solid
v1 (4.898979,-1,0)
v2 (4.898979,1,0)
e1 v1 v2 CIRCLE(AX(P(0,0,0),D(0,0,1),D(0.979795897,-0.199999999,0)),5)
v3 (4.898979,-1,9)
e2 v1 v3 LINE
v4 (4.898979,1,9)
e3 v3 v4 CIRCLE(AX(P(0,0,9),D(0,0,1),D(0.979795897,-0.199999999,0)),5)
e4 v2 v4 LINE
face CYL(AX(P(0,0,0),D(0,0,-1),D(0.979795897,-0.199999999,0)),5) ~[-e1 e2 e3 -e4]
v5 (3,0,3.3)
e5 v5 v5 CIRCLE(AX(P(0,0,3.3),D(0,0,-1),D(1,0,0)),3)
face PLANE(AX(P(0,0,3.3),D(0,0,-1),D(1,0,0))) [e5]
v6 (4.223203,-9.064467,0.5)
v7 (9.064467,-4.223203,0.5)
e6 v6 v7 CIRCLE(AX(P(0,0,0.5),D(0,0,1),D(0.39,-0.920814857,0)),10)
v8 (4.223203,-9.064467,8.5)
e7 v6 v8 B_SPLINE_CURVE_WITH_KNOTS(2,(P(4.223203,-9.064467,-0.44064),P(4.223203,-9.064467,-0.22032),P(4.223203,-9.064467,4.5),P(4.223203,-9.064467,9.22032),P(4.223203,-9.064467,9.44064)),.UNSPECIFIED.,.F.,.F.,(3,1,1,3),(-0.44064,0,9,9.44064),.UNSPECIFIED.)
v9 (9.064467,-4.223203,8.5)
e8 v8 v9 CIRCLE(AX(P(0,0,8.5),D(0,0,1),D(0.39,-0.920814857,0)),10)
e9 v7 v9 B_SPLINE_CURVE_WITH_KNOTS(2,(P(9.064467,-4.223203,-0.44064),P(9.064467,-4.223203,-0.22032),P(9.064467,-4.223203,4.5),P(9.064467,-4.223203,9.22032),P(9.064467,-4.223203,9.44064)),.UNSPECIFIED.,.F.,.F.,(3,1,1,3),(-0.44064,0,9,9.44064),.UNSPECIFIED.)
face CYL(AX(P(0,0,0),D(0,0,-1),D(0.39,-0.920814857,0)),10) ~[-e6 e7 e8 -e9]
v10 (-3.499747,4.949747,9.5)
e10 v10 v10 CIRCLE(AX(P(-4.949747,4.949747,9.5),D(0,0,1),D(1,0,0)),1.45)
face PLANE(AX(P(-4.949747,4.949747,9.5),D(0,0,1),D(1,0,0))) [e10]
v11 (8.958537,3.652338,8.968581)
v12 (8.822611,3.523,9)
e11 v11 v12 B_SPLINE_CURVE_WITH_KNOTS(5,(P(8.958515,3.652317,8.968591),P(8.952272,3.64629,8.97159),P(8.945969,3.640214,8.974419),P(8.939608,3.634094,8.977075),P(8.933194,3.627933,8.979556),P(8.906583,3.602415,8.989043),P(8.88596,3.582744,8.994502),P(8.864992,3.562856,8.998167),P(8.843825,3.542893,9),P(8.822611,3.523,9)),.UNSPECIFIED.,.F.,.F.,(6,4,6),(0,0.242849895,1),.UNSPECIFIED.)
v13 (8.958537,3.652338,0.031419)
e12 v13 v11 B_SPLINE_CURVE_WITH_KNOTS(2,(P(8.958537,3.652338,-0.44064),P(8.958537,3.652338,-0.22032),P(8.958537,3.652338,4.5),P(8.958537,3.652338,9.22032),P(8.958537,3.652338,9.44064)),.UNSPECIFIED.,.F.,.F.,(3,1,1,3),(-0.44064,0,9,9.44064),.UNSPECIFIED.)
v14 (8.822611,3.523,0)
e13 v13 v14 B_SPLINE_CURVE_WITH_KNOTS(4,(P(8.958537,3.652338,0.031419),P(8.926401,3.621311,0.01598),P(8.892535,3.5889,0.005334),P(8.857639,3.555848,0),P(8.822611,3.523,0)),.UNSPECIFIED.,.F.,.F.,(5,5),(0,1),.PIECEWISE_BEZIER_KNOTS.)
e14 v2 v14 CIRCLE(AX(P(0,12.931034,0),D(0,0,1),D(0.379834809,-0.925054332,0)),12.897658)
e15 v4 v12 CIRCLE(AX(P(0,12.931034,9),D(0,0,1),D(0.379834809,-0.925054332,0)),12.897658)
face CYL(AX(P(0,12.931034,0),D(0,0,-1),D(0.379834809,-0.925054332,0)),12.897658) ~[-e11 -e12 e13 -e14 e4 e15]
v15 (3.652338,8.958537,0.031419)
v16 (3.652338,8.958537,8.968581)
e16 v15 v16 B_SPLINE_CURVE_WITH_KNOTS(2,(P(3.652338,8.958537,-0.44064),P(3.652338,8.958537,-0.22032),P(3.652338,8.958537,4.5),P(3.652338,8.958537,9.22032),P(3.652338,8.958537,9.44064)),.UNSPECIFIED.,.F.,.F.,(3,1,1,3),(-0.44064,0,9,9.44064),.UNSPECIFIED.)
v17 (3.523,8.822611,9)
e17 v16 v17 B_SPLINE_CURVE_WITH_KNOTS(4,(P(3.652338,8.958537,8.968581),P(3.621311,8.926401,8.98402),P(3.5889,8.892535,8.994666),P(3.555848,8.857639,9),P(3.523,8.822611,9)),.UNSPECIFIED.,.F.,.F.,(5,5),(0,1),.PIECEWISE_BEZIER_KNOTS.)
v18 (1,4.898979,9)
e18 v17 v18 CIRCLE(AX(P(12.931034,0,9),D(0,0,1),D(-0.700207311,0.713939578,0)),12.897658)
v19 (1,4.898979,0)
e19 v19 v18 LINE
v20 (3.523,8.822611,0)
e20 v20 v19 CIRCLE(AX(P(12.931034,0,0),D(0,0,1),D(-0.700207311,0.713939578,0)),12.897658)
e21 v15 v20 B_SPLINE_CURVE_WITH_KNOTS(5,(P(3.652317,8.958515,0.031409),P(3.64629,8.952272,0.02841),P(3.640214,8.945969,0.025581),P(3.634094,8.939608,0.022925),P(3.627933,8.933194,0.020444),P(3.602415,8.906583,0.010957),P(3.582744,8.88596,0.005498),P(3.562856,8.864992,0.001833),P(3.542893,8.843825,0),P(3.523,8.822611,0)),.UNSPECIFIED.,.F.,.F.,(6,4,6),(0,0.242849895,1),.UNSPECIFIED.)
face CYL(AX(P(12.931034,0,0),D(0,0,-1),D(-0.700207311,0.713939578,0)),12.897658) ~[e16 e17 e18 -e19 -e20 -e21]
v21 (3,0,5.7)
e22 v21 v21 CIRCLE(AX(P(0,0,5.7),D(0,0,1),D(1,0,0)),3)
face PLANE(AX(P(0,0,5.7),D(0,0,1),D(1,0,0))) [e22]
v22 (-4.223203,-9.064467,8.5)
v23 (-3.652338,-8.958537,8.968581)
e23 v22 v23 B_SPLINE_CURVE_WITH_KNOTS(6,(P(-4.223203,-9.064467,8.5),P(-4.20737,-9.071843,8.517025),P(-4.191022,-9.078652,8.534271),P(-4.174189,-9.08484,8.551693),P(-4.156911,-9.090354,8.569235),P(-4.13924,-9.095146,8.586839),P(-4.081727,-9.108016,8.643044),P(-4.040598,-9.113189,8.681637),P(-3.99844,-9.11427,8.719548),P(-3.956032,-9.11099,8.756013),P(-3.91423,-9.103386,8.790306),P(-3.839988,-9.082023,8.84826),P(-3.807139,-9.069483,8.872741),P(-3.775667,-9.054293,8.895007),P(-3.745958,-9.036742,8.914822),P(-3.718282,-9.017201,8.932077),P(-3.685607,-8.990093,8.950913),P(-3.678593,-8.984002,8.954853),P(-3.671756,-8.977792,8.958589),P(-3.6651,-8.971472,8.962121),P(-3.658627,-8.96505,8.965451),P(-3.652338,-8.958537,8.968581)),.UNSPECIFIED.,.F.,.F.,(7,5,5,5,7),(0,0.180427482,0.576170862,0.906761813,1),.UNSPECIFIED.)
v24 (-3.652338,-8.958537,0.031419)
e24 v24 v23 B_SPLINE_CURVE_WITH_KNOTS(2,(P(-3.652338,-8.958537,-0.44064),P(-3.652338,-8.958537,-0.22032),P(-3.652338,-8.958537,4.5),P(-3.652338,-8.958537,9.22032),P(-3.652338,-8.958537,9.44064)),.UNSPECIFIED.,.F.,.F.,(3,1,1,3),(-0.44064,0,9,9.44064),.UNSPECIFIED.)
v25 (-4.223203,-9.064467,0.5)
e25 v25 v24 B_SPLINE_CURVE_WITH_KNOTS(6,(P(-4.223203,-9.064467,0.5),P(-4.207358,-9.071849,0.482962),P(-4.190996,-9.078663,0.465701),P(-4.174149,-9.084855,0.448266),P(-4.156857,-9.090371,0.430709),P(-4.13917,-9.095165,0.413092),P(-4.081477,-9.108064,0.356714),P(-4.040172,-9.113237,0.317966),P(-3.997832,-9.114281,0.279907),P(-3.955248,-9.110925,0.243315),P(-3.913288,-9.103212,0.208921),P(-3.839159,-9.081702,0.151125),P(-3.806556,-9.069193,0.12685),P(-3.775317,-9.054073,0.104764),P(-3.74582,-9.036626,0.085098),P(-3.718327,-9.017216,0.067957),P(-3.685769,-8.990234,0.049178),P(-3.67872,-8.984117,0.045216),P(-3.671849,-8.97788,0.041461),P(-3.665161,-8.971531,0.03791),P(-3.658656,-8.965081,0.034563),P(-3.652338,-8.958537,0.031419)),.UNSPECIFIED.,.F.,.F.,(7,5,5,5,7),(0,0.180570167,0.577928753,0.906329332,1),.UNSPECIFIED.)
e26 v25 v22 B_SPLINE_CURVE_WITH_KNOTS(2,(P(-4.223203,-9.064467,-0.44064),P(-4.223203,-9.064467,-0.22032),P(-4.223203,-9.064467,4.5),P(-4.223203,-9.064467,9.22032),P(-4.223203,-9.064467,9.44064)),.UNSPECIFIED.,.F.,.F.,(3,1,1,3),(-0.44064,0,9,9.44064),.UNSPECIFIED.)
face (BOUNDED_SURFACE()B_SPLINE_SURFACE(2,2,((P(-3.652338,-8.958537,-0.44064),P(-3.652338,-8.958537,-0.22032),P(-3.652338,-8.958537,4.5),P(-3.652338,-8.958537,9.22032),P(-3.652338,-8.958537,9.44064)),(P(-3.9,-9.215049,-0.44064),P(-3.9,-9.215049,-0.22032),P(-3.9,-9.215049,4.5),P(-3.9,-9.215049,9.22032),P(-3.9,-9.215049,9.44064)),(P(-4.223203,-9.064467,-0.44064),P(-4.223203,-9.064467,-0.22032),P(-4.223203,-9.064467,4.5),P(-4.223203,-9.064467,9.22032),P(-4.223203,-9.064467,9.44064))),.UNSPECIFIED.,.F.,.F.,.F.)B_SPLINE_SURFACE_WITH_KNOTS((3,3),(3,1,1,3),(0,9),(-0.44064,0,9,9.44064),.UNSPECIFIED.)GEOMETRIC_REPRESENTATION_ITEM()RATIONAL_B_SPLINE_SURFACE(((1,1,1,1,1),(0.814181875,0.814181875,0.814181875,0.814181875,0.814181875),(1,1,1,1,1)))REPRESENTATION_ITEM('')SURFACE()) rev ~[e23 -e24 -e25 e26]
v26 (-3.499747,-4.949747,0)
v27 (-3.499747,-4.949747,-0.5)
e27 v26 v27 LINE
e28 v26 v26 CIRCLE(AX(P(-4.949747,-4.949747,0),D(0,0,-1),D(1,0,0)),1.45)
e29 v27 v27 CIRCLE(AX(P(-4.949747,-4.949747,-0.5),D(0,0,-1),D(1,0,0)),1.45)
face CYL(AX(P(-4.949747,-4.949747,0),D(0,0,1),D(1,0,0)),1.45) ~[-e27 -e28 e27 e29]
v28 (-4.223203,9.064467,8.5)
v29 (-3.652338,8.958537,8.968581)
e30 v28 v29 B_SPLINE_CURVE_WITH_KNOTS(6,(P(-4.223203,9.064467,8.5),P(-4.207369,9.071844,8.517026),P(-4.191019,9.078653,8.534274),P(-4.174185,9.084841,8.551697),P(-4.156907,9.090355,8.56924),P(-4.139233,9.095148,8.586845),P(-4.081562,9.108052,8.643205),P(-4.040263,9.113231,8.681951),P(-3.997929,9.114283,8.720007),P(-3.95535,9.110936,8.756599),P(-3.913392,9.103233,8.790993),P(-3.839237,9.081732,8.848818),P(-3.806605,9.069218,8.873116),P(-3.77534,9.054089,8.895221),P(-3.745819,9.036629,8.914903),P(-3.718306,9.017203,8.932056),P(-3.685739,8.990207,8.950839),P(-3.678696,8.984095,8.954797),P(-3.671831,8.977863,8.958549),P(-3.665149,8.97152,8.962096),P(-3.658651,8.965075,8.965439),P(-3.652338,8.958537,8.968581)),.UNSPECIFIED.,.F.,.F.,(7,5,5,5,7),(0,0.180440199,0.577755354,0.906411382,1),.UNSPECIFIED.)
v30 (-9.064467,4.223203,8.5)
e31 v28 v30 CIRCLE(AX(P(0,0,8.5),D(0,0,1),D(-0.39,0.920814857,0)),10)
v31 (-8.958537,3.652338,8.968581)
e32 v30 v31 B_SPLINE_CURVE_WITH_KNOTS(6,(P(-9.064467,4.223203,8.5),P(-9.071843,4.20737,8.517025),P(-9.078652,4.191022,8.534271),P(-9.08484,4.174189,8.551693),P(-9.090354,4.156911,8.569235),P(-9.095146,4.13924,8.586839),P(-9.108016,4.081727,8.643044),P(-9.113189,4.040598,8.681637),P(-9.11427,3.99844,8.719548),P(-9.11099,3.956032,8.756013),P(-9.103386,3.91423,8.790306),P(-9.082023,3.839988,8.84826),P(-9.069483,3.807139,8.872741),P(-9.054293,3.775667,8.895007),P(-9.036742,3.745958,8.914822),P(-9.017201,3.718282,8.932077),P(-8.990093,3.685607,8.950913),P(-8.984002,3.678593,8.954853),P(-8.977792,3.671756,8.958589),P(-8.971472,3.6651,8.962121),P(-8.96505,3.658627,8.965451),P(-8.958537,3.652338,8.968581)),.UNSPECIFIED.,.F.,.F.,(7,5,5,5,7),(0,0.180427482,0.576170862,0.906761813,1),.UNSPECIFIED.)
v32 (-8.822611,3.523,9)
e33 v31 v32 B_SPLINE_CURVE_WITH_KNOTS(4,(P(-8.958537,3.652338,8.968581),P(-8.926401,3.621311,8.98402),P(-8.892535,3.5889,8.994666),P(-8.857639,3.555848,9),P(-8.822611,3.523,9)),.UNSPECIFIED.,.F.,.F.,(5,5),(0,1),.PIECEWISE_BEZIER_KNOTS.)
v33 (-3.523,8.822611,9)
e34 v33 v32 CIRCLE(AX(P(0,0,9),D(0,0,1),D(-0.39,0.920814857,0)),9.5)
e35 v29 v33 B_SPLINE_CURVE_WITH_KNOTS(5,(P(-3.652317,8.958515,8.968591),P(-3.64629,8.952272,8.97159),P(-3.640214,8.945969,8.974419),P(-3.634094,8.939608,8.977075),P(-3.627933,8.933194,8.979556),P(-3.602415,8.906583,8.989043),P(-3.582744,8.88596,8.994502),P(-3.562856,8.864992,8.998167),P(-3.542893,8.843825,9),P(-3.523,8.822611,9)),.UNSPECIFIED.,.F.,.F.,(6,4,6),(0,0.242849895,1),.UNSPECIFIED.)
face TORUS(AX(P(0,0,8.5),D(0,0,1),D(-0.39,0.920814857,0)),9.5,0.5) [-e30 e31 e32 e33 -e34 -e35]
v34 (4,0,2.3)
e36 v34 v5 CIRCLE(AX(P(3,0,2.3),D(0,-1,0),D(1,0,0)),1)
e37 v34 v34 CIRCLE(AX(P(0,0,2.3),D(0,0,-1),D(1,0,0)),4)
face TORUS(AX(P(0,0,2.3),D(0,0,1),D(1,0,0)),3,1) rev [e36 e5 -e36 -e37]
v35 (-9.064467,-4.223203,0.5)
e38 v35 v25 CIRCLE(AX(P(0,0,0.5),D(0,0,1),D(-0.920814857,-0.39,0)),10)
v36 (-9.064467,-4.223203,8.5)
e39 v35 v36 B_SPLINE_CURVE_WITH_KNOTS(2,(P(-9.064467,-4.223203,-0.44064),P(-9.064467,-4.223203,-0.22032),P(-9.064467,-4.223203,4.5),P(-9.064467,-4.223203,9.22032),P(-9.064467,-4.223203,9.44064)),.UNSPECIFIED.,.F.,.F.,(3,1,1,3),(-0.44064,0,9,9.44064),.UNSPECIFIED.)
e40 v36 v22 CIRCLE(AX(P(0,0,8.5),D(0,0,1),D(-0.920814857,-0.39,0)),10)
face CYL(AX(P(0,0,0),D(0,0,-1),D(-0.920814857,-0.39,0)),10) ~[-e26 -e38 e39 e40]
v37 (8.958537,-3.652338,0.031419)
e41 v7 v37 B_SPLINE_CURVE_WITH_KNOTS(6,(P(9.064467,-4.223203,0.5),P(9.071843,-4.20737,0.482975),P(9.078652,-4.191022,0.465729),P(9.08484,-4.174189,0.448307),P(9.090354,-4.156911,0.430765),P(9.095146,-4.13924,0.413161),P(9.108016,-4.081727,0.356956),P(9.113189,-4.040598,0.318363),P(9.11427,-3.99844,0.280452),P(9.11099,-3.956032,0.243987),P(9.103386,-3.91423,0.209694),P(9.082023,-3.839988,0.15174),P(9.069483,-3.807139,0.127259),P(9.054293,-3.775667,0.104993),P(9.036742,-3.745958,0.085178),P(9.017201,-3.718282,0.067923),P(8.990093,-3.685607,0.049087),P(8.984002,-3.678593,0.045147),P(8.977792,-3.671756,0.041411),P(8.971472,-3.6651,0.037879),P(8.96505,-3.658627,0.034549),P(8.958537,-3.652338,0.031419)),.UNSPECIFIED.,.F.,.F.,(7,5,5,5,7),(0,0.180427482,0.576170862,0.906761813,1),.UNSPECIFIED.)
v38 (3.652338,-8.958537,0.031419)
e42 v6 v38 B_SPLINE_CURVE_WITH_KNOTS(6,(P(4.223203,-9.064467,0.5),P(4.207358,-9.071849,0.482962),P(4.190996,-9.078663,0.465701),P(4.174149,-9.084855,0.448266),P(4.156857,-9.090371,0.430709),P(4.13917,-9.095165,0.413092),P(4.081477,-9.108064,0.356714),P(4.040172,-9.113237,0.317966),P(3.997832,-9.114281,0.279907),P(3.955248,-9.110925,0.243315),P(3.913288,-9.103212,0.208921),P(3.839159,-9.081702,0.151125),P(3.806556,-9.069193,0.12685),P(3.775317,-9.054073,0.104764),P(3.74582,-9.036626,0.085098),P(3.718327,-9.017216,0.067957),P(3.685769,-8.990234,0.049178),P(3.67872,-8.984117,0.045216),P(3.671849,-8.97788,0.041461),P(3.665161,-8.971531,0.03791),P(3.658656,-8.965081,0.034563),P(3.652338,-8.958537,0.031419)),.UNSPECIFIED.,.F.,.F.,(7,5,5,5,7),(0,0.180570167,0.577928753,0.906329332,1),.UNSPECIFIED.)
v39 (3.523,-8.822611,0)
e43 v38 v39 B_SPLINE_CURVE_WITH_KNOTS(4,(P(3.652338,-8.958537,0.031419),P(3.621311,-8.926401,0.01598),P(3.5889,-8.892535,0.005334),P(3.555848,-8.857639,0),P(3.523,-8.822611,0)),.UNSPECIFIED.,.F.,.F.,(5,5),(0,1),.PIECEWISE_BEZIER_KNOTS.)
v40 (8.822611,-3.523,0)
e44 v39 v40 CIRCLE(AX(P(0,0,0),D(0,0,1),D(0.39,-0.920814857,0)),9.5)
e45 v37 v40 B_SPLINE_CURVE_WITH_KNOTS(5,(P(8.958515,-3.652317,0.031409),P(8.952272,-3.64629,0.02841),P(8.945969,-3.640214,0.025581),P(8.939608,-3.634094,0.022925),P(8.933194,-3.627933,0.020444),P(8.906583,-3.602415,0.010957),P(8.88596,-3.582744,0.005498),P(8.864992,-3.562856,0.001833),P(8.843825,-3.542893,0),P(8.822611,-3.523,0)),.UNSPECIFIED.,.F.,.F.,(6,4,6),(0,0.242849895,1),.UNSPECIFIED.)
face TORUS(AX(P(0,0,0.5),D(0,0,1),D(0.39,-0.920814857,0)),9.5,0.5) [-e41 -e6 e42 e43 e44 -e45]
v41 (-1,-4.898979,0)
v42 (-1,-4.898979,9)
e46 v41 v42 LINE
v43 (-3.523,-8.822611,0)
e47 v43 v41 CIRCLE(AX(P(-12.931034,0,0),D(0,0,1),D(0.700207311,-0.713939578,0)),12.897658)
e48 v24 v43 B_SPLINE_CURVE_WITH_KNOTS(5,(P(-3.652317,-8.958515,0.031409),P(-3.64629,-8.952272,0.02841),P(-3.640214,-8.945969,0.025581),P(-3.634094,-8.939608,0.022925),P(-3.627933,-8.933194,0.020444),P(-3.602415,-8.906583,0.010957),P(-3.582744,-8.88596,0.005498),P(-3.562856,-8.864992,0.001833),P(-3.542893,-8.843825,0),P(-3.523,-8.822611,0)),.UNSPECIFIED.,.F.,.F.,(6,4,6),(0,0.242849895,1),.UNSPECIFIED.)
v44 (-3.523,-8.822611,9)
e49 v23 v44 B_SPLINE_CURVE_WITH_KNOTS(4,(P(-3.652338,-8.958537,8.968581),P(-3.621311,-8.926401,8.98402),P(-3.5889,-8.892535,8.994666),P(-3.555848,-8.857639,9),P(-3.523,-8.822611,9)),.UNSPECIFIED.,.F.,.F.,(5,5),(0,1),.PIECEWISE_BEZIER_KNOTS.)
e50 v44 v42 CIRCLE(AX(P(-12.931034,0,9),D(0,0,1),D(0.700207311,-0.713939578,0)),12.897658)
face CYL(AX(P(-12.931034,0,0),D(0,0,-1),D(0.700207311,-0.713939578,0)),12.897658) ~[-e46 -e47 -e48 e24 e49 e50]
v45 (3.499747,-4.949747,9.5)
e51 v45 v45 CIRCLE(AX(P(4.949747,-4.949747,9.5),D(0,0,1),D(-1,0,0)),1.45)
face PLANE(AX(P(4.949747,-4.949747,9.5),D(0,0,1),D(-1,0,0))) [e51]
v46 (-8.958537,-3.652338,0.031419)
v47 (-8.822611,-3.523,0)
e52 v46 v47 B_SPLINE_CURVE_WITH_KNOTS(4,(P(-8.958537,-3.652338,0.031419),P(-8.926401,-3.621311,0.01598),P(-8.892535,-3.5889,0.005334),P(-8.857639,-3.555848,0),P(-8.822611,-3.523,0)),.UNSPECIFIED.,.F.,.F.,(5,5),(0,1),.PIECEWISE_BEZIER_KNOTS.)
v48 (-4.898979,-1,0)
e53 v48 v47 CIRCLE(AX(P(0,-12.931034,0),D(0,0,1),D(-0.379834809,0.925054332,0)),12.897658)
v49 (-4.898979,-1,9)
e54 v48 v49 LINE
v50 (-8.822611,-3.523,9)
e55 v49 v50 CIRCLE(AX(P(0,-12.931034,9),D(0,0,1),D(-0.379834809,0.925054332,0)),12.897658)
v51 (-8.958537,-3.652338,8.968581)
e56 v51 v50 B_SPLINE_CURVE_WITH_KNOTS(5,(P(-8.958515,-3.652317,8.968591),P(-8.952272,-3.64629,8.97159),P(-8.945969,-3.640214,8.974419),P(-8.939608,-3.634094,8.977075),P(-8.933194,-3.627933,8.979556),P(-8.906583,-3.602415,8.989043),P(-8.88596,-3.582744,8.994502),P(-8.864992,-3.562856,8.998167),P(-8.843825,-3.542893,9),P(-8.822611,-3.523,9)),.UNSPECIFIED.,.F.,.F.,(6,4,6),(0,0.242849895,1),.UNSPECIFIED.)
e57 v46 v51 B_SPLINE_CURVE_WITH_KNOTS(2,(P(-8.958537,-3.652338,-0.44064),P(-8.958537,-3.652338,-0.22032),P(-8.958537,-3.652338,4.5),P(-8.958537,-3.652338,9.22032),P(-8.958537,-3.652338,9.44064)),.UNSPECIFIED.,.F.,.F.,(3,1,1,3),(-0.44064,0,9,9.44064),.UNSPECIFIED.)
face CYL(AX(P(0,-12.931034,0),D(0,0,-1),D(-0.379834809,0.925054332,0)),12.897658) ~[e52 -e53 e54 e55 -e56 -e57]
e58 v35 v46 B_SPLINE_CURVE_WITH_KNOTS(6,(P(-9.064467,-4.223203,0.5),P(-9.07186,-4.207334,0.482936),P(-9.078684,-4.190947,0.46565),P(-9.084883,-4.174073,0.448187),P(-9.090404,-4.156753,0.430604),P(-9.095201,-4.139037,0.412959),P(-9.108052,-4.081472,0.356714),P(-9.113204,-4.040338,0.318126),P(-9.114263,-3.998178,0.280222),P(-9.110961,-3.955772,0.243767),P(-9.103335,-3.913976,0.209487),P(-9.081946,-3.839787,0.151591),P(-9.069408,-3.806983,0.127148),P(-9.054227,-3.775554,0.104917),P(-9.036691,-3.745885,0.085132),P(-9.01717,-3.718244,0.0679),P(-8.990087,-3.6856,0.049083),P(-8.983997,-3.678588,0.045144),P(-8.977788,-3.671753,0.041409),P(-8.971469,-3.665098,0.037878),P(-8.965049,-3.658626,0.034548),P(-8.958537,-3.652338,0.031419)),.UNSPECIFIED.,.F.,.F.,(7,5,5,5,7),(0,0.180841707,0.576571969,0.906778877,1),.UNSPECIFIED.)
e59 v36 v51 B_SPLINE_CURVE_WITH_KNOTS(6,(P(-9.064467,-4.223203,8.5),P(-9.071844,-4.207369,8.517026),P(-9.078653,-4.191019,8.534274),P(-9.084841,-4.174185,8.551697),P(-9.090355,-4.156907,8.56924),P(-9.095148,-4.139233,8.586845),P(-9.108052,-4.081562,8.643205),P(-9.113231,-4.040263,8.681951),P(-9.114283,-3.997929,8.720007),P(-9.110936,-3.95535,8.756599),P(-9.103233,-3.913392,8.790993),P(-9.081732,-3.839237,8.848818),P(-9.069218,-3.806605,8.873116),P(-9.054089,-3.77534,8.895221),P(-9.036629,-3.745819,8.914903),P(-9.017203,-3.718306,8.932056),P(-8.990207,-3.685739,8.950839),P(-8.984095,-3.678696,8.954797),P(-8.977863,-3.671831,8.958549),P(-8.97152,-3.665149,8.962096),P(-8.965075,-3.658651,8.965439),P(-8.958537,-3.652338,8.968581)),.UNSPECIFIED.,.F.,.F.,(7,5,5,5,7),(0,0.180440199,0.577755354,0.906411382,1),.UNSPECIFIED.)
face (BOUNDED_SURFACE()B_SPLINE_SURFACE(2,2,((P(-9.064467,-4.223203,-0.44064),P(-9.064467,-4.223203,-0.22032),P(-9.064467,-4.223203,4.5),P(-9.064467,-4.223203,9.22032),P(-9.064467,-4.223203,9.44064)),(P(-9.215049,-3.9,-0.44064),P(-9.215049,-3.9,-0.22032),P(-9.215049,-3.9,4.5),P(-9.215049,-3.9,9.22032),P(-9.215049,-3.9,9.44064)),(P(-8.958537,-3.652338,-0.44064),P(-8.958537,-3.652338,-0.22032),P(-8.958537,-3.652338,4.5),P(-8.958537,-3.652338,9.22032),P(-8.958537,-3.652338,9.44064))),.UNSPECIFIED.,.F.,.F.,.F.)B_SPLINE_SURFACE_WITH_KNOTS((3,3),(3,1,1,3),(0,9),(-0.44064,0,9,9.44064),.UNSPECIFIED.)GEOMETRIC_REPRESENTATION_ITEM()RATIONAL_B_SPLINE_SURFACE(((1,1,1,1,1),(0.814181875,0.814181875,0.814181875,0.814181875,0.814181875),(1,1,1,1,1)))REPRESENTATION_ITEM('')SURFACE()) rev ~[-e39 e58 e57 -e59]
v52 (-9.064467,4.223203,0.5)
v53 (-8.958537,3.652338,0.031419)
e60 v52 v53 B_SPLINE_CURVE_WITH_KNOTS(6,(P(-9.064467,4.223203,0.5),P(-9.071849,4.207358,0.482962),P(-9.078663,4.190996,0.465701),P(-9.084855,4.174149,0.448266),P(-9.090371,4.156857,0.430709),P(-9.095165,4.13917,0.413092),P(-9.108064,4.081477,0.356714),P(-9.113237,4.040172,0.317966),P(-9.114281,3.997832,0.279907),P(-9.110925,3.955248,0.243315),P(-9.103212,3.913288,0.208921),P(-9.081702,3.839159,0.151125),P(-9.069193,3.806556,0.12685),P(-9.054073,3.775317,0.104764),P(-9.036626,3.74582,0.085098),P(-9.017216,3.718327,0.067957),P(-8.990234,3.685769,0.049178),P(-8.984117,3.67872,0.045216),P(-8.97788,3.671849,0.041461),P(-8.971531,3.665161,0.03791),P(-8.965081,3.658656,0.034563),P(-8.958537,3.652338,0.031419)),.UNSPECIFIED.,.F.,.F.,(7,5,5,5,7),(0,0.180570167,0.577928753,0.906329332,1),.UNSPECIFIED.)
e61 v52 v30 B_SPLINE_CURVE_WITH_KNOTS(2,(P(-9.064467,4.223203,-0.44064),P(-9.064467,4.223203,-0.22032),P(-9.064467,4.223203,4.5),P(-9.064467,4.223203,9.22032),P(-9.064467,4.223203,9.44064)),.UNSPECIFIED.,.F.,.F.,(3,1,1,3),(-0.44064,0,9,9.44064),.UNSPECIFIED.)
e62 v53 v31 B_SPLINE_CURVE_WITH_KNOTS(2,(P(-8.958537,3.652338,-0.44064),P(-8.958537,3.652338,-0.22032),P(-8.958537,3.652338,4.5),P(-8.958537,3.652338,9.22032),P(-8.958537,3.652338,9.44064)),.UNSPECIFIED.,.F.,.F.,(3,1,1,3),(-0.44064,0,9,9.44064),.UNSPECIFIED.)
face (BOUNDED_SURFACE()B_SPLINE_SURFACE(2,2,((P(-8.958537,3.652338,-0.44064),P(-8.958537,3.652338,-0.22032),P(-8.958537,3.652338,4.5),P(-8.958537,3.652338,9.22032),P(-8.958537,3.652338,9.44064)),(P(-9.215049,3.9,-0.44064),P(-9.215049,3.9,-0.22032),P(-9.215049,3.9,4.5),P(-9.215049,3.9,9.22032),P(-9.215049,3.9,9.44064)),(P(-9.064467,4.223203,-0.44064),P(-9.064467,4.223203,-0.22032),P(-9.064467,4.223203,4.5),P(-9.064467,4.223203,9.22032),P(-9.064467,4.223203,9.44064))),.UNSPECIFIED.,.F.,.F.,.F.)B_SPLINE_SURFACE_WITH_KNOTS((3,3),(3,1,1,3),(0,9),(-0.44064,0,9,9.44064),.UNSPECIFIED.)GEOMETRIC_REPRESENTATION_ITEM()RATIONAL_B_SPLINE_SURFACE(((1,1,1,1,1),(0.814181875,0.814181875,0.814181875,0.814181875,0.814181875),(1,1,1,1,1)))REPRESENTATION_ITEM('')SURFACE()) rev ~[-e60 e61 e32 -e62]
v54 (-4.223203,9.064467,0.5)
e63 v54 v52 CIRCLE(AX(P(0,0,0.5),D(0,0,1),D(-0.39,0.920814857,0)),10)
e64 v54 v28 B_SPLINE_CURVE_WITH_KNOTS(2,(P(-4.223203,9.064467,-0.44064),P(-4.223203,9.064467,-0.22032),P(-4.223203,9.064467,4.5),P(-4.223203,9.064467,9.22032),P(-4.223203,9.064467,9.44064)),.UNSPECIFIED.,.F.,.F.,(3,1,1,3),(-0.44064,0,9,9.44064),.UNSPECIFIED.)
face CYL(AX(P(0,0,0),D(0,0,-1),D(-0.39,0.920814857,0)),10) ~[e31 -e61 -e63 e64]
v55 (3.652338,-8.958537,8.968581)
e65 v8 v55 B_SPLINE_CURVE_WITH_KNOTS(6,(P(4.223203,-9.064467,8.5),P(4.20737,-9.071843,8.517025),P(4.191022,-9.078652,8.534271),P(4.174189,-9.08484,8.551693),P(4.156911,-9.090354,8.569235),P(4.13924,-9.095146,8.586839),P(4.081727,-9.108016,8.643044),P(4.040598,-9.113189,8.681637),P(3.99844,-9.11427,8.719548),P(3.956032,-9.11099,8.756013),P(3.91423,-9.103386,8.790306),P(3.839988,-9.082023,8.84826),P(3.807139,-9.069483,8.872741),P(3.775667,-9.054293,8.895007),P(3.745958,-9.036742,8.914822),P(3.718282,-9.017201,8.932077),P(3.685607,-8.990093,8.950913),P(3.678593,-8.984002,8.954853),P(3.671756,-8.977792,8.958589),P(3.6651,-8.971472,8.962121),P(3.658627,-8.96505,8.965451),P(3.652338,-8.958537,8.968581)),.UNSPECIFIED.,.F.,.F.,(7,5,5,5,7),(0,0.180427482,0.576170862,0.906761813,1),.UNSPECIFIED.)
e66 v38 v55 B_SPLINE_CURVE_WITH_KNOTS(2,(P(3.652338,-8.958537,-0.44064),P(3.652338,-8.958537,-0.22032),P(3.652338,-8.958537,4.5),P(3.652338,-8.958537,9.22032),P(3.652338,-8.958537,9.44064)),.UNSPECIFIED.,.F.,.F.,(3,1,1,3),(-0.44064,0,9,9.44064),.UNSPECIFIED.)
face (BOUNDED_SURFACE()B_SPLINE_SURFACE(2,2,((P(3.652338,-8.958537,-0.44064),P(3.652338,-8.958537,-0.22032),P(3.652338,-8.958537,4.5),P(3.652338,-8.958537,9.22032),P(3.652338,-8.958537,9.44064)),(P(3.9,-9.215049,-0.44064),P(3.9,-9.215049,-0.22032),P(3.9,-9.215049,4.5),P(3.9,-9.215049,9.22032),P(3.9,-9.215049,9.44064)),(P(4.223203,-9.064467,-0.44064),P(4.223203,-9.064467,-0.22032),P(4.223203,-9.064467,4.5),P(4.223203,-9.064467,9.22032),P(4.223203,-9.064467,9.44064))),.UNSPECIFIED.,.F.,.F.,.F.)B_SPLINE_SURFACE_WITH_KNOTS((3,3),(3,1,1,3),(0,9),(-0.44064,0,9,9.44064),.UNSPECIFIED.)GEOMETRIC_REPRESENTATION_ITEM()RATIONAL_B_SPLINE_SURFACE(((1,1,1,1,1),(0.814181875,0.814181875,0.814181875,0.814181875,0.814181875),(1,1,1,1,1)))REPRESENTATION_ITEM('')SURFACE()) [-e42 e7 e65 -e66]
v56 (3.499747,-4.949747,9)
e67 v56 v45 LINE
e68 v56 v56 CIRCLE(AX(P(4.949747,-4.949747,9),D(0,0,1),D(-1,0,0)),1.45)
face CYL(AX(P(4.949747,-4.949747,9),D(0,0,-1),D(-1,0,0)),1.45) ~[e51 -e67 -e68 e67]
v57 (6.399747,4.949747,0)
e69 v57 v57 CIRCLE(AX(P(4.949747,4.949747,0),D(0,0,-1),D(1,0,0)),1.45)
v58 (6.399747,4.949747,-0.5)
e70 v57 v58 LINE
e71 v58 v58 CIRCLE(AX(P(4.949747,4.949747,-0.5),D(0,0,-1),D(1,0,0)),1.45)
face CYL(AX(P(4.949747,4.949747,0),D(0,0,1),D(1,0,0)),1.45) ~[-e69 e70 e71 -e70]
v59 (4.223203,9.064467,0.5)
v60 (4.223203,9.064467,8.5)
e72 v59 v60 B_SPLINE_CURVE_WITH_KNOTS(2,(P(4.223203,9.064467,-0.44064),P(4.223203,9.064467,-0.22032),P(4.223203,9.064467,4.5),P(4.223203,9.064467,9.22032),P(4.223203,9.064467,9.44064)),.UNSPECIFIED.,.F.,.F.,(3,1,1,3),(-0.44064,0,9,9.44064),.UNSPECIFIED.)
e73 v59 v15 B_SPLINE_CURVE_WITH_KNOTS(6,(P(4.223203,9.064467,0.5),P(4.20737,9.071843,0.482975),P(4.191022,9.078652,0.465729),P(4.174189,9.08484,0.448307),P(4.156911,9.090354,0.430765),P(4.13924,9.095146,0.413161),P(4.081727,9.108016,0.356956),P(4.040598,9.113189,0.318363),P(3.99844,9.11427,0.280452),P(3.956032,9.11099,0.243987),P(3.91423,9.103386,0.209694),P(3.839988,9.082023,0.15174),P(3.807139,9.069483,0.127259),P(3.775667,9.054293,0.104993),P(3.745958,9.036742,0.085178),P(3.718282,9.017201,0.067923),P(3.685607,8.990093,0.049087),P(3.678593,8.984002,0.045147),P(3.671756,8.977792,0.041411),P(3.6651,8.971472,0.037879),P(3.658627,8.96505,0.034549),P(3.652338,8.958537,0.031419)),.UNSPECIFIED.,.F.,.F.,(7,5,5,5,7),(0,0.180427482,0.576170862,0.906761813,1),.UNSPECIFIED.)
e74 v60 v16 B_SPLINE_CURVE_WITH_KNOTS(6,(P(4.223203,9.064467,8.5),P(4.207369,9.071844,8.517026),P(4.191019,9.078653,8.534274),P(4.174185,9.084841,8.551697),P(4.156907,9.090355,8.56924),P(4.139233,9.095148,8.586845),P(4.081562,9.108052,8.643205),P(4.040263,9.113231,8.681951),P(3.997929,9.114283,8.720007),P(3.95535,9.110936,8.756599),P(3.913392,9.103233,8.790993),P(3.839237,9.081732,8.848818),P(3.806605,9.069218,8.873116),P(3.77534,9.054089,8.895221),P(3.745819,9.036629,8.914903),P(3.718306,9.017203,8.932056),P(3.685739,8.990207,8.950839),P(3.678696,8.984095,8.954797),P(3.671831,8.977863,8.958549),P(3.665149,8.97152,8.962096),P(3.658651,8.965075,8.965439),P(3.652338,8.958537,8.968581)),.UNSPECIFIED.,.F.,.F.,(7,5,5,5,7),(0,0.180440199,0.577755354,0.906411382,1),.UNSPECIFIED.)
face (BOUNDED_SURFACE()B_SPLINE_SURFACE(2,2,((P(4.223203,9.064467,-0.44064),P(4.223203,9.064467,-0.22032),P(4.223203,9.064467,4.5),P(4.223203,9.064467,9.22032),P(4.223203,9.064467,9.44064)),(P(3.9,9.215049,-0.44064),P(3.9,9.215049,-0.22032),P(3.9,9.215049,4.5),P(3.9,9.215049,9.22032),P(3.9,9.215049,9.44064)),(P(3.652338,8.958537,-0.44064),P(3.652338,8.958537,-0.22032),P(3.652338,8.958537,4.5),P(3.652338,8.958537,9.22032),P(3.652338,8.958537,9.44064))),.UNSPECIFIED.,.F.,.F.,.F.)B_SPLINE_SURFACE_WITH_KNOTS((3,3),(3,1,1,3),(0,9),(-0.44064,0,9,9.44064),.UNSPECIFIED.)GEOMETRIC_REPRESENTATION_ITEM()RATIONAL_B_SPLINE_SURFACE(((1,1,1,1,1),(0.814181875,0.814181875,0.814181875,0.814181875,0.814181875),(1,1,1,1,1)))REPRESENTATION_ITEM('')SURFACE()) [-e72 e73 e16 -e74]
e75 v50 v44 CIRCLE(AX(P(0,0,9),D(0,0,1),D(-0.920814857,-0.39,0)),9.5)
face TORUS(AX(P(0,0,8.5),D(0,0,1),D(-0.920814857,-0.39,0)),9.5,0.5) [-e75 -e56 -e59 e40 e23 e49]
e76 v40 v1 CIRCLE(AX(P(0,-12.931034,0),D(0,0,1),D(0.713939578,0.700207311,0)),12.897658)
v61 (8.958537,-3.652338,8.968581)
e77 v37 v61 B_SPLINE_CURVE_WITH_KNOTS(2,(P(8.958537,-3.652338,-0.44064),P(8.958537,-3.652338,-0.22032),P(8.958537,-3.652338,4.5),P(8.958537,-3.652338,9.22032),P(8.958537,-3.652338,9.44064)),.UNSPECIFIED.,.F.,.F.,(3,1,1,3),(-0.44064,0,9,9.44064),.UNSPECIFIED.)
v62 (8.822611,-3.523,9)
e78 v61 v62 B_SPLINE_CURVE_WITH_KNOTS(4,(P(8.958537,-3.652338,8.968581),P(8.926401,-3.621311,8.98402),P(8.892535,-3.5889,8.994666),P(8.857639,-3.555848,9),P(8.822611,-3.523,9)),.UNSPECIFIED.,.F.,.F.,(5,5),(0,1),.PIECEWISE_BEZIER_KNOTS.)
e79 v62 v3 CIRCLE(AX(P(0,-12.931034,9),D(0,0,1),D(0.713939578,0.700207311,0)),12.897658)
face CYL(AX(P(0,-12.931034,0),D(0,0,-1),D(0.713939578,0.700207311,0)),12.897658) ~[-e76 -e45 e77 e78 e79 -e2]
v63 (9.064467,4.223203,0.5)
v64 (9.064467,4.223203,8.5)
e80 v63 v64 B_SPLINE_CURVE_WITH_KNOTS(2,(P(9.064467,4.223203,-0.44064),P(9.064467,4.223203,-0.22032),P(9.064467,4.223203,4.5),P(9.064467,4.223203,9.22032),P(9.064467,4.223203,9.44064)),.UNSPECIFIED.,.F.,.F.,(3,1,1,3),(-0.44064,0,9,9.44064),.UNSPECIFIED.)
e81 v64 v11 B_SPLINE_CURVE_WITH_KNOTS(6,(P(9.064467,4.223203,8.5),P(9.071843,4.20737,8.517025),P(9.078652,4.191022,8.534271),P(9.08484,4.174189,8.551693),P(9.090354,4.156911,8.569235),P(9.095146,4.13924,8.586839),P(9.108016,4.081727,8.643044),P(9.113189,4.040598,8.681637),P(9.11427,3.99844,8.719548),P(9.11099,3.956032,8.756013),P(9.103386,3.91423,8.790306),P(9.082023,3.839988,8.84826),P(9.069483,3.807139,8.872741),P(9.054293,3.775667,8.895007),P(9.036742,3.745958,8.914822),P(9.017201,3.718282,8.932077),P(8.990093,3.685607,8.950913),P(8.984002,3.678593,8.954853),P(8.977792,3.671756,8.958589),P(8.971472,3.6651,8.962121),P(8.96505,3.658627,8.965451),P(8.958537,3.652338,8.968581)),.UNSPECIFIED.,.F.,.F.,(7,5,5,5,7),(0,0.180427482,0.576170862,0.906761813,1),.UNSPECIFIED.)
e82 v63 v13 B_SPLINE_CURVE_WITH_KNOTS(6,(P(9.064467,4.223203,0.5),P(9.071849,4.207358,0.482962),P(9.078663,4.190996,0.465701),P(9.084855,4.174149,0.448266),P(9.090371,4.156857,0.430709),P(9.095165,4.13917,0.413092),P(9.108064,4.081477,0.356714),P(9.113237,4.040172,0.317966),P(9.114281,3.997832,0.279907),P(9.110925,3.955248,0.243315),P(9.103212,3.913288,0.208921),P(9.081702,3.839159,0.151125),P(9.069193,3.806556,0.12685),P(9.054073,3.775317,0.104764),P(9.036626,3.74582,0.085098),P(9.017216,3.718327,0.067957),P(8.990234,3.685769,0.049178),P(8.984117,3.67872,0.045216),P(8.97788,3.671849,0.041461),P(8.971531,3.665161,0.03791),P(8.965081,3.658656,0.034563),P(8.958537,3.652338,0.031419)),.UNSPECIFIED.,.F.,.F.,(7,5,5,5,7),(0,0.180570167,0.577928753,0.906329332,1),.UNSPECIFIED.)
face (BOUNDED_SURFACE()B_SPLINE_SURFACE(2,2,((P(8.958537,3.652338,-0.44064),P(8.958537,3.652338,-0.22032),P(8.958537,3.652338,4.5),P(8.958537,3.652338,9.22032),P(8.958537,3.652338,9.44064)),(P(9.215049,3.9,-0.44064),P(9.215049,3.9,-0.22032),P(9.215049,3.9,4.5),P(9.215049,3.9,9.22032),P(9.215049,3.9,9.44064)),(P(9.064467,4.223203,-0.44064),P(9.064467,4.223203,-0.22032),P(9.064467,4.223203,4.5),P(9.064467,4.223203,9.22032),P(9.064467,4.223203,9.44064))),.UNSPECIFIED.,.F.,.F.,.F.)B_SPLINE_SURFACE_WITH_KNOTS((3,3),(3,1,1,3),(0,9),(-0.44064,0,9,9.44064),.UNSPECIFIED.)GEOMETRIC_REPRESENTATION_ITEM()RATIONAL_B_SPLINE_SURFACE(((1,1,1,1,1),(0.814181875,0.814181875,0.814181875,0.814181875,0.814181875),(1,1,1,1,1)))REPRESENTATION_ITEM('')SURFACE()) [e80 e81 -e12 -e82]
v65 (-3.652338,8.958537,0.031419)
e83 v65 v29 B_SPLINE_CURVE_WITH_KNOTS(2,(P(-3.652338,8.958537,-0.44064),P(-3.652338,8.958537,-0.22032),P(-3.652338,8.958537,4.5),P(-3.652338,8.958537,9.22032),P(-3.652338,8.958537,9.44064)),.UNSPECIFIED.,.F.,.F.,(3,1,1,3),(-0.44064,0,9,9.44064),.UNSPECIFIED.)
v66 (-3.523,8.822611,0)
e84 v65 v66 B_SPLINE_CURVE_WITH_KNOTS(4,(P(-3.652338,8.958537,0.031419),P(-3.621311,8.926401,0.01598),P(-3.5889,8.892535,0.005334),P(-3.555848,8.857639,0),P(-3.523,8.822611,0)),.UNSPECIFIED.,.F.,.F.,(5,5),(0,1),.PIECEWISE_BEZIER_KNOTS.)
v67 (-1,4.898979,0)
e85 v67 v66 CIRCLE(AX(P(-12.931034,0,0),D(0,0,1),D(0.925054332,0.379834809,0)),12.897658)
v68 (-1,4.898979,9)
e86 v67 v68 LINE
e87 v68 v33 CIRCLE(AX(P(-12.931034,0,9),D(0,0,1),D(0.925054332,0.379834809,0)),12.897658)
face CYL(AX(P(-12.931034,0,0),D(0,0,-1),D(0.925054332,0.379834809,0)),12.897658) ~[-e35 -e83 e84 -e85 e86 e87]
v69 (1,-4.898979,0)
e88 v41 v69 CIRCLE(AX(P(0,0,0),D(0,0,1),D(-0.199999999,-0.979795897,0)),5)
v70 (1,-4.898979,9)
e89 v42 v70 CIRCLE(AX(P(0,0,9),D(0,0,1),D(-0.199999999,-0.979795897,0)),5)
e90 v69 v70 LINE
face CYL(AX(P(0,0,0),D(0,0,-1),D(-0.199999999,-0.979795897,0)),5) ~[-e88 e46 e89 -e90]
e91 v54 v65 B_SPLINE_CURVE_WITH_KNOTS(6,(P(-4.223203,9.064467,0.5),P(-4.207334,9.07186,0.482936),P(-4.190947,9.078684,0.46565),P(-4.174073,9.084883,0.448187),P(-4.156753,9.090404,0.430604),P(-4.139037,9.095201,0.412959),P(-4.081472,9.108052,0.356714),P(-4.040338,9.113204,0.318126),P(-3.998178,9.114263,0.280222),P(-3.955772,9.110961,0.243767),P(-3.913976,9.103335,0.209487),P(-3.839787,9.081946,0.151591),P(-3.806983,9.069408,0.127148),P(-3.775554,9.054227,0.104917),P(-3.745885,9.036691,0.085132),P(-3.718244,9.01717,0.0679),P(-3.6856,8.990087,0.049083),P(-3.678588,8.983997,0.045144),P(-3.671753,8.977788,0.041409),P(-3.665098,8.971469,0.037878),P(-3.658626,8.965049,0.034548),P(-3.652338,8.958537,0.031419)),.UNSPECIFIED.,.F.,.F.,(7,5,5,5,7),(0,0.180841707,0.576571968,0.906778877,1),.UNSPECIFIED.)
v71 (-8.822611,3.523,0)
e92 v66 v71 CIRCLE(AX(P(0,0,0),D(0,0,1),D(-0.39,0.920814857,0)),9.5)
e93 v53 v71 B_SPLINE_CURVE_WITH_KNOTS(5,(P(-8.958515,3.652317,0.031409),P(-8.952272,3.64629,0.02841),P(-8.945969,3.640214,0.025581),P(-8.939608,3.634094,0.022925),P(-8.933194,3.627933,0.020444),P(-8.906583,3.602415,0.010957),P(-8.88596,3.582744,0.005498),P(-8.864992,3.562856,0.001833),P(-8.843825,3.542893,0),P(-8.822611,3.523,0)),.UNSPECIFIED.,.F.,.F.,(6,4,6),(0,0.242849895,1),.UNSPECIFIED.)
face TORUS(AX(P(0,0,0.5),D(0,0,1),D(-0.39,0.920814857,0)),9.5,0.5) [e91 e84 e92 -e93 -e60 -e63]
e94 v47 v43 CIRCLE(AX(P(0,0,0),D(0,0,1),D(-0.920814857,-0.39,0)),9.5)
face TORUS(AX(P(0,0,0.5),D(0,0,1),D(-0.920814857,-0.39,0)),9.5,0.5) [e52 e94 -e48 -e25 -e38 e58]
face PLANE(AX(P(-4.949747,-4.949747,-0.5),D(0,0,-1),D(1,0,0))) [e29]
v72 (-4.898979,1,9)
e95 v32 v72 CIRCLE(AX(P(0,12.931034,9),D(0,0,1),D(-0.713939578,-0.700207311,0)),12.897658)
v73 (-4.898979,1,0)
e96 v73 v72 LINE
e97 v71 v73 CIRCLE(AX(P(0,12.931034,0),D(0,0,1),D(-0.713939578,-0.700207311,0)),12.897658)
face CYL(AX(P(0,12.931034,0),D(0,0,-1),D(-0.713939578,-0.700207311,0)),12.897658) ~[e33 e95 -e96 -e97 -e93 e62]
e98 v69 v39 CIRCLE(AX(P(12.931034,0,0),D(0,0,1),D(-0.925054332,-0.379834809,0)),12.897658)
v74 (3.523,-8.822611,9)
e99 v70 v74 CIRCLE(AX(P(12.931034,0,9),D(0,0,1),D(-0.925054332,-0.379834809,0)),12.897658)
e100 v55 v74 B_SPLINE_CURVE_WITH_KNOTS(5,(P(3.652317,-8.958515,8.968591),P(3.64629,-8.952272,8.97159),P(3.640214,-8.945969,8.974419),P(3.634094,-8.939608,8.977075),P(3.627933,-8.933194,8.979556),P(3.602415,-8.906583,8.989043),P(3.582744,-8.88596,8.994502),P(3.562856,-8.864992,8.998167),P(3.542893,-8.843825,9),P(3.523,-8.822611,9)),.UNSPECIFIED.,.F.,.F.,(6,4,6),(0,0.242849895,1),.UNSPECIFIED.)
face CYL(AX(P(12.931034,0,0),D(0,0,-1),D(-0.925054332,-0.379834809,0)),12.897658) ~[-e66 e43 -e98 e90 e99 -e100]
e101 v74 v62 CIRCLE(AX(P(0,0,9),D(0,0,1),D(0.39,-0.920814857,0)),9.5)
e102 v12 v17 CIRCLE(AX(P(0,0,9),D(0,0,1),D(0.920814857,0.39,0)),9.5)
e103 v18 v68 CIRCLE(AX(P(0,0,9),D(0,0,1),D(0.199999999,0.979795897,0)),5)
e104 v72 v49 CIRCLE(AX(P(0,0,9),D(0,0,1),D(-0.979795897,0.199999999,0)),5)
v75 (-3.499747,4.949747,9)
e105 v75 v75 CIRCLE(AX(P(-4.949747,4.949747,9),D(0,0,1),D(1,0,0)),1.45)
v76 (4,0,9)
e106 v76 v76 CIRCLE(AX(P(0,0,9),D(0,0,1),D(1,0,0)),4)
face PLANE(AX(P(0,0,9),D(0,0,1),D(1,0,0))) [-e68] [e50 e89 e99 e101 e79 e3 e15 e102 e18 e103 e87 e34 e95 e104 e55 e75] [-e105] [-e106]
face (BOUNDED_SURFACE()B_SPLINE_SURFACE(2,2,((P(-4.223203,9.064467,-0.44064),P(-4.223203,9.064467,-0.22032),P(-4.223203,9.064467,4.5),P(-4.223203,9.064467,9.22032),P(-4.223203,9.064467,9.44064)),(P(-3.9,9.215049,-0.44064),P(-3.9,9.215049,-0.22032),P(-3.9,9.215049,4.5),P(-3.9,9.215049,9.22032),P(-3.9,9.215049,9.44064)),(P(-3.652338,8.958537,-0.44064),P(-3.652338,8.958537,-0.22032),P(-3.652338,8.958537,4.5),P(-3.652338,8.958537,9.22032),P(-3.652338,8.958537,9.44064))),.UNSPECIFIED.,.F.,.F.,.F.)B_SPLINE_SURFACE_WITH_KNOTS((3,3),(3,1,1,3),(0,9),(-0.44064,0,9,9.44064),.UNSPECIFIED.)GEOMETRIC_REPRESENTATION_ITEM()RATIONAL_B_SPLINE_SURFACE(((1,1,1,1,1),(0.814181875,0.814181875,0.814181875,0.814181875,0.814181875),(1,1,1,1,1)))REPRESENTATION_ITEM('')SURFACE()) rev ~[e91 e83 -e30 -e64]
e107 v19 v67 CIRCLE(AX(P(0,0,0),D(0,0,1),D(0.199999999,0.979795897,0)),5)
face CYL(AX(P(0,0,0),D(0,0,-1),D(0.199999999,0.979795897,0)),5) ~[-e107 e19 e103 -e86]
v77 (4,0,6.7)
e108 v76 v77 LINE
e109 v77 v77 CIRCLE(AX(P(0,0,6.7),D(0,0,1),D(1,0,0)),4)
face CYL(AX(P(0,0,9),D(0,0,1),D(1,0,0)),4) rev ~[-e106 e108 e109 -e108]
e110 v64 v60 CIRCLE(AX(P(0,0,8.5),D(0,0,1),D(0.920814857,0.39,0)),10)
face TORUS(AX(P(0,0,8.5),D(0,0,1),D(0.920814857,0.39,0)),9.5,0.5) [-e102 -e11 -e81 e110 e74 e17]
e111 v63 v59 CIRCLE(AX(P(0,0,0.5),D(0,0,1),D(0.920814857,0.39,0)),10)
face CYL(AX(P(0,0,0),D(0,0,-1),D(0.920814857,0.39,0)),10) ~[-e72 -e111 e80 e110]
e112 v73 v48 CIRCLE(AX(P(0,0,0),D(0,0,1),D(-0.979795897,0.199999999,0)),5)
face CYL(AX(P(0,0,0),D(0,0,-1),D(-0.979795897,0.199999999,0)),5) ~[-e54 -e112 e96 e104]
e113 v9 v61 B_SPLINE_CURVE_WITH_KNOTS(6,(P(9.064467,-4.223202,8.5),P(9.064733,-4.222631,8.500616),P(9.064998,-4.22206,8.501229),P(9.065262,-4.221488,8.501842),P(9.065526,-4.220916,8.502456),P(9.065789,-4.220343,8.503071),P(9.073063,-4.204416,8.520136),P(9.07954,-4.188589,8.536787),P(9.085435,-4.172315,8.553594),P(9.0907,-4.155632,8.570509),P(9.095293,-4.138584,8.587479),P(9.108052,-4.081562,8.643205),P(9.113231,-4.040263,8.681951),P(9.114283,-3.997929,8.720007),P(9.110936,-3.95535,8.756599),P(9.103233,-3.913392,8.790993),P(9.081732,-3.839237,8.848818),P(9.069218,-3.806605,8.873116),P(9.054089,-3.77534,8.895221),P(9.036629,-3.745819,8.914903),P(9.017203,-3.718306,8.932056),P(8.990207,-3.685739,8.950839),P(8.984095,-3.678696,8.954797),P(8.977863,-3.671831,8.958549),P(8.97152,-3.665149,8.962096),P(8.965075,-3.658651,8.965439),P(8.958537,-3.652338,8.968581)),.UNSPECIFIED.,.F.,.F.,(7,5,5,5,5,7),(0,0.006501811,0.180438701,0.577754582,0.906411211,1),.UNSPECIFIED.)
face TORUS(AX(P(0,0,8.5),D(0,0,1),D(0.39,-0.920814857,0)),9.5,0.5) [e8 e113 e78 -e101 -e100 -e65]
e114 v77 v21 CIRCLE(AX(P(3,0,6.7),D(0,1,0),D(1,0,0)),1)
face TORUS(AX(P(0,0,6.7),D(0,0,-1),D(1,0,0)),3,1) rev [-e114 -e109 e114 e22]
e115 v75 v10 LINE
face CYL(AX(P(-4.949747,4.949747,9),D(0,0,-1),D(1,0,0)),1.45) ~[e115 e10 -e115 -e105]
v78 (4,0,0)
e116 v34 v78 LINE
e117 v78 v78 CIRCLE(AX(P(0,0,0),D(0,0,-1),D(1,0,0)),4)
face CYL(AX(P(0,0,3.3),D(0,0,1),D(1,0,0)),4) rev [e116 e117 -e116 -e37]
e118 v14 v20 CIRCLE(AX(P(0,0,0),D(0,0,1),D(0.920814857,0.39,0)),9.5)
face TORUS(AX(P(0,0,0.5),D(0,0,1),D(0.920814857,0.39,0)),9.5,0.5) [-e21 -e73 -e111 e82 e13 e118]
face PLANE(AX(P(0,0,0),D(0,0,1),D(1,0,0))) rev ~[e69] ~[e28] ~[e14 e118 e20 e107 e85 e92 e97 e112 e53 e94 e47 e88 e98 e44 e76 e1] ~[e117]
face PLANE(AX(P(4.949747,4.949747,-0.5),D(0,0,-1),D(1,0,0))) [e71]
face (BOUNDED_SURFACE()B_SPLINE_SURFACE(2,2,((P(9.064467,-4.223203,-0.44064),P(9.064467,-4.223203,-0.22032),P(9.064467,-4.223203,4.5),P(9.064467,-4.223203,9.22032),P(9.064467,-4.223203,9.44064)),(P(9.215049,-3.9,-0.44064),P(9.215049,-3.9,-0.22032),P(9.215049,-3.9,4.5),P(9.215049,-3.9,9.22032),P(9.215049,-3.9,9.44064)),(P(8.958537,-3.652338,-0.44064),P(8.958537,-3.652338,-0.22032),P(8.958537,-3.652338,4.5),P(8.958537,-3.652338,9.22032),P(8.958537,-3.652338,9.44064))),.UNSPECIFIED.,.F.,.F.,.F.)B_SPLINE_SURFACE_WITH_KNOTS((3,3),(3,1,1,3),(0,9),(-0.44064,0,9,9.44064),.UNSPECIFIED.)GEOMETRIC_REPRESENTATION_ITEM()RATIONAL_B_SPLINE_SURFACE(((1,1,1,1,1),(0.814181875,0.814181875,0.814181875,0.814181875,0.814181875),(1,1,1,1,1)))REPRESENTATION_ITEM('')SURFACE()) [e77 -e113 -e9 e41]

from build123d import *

# Parameters (mm, degrees)
EXTRUDE_1_DEPTH     = 9
SKETCH_2_R          = 1.45
EXTRUDE_2_DEPTH     = 0.5
SKETCH_3_R          = 1.45
EXTRUDE_3_DEPTH     = 0.5
SKETCH_4_R          = 4
CUT_EXTRUDE_1_DEPTH = 3.3
CUT_EXTRUDE_START   = -3.3
SKETCH_5_R          = 4
CUT_EXTRUDE_2_DEPTH = 3.3
FILLET_1_R          = 1
FILLET_2_R          = 0.5


with BuildPart() as part:
    # ｽｹｯﾁ1 → ﾎﾞｽ - 押し出し1 (new body)
    with BuildSketch(Plane.XY):
        with BuildLine():
            ThreePointArc((-1, -4.898979486), (0, -5), (1, -4.898979486))
            ThreePointArc((1, -4.898979486), (2.230832692, -7.201060023), (3.9, -9.208148565))
            ThreePointArc((3.9, -9.208148565), (7.071067812, -7.071067812), (9.208148565, -3.9))
            ThreePointArc((9.208148565, -3.9), (7.201060023, -2.230832692), (4.898979486, -1))
            ThreePointArc((4.898979486, -1), (5, 0), (4.898979486, 1))
            ThreePointArc((4.898979486, 1), (7.201060023, 2.230832692), (9.208148565, 3.9))
            ThreePointArc((9.208148565, 3.9), (7.071067812, 7.071067812), (3.9, 9.208148565))
            ThreePointArc((3.9, 9.208148565), (2.230832692, 7.201060023), (1, 4.898979486))
            ThreePointArc((1, 4.898979486), (0, 5), (-1, 4.898979486))
            ThreePointArc((-1, 4.898979486), (-2.230832692, 7.201060023), (-3.9, 9.208148565))
            ThreePointArc((-3.9, 9.208148565), (-7.071067812, 7.071067812), (-9.208148565, 3.9))
            ThreePointArc((-9.208148565, 3.9), (-7.201060023, 2.230832692), (-4.898979486, 1))
            ThreePointArc((-4.898979486, 1), (-5, 0), (-4.898979486, -1))
            ThreePointArc((-4.898979486, -1), (-7.201060023, -2.230832692), (-9.208148565, -3.9))
            ThreePointArc((-9.208148565, -3.9), (-7.071067812, -7.071067812), (-3.9, -9.208148565))
            ThreePointArc((-3.9, -9.208148565), (-2.230832692, -7.201060023), (-1, -4.898979486))
        make_face()
    extrude(amount=EXTRUDE_1_DEPTH)

    # ｽｹｯﾁ2 → ﾎﾞｽ - 押し出し2 (add)
    with BuildSketch(Plane.XY.offset(9)):
        with Locations((-4.949747468, 4.949747468)):
            Circle(SKETCH_2_R)
        with Locations(Location((4.949747468, -4.949747468, 0), (0, 0, 180))):
            Circle(SKETCH_2_R)
    extrude(amount=EXTRUDE_2_DEPTH)

    # ｽｹｯﾁ3 → ﾎﾞｽ - 押し出し3 (add)
    with BuildSketch(Plane(origin=(0, 0, 0), x_dir=(-1, 0, 0), z_dir=(0, 0, -1))):
        with Locations(Location((-4.949747468, 4.949747468, 0), (0, 0, 180))):
            Circle(SKETCH_3_R)
        with Locations(Location((4.949747468, -4.949747468, 0), (0, 0, 180))):
            Circle(SKETCH_3_R)
    extrude(amount=EXTRUDE_3_DEPTH)

    # ｽｹｯﾁ4 → ｶｯﾄ - 押し出し1 (cut)
    with BuildSketch(Plane.XY.offset(9)):
        Circle(SKETCH_4_R)
    extrude(amount=-CUT_EXTRUDE_1_DEPTH, mode=Mode.SUBTRACT)

    # ｽｹｯﾁ5 → ｶｯﾄ - 押し出し2 (cut)
    with BuildSketch(Plane(origin=(0, 0, 0), x_dir=(-1, 0, 0), z_dir=(0, 0, -1)).offset(CUT_EXTRUDE_START)):
        with Locations(Location((0, 0, 0), (0, 0, 180))):
            Circle(SKETCH_5_R)
    extrude(amount=CUT_EXTRUDE_2_DEPTH, mode=Mode.SUBTRACT)

    # ﾌｨﾚｯﾄ1
    fillet_1_edges = [part.edges().sort_by_distance(p)[0] for p in [
        (-4, 0, 5.7),
        (-4, 0, 3.3),
    ]]
    fillet(fillet_1_edges, radius=FILLET_1_R)

    # ﾌｨﾚｯﾄ2
    fillet_2_edges = [part.edges().sort_by_distance(p)[0] for p in [
        (7.071067812, -7.071067812, 0),
        (-7.071067812, 7.071067812, 9),
        (-7.071067812, -7.071067812, 0),
        (-7.071067812, 7.071067812, 0),
        (7.071067812, 7.071067812, 0),
        (9.208148565, 3.9, 4.5),
        (9.208148565, -3.9, 4.5),
        (3.9, -9.208148565, 4.5),
        (-3.9, -9.208148565, 4.5),
        (-9.208148565, -3.9, 4.5),
        (-9.208148565, 3.9, 4.5),
        (-3.9, 9.208148565, 4.5),
        (3.9, 9.208148565, 4.5),
        (-7.071067812, -7.071067812, 9),
        (7.071067812, 7.071067812, 9),
        (7.071067812, -7.071067812, 9),
    ]]
    fillet(fillet_2_edges, radius=FILLET_2_R)


solid = part.part
